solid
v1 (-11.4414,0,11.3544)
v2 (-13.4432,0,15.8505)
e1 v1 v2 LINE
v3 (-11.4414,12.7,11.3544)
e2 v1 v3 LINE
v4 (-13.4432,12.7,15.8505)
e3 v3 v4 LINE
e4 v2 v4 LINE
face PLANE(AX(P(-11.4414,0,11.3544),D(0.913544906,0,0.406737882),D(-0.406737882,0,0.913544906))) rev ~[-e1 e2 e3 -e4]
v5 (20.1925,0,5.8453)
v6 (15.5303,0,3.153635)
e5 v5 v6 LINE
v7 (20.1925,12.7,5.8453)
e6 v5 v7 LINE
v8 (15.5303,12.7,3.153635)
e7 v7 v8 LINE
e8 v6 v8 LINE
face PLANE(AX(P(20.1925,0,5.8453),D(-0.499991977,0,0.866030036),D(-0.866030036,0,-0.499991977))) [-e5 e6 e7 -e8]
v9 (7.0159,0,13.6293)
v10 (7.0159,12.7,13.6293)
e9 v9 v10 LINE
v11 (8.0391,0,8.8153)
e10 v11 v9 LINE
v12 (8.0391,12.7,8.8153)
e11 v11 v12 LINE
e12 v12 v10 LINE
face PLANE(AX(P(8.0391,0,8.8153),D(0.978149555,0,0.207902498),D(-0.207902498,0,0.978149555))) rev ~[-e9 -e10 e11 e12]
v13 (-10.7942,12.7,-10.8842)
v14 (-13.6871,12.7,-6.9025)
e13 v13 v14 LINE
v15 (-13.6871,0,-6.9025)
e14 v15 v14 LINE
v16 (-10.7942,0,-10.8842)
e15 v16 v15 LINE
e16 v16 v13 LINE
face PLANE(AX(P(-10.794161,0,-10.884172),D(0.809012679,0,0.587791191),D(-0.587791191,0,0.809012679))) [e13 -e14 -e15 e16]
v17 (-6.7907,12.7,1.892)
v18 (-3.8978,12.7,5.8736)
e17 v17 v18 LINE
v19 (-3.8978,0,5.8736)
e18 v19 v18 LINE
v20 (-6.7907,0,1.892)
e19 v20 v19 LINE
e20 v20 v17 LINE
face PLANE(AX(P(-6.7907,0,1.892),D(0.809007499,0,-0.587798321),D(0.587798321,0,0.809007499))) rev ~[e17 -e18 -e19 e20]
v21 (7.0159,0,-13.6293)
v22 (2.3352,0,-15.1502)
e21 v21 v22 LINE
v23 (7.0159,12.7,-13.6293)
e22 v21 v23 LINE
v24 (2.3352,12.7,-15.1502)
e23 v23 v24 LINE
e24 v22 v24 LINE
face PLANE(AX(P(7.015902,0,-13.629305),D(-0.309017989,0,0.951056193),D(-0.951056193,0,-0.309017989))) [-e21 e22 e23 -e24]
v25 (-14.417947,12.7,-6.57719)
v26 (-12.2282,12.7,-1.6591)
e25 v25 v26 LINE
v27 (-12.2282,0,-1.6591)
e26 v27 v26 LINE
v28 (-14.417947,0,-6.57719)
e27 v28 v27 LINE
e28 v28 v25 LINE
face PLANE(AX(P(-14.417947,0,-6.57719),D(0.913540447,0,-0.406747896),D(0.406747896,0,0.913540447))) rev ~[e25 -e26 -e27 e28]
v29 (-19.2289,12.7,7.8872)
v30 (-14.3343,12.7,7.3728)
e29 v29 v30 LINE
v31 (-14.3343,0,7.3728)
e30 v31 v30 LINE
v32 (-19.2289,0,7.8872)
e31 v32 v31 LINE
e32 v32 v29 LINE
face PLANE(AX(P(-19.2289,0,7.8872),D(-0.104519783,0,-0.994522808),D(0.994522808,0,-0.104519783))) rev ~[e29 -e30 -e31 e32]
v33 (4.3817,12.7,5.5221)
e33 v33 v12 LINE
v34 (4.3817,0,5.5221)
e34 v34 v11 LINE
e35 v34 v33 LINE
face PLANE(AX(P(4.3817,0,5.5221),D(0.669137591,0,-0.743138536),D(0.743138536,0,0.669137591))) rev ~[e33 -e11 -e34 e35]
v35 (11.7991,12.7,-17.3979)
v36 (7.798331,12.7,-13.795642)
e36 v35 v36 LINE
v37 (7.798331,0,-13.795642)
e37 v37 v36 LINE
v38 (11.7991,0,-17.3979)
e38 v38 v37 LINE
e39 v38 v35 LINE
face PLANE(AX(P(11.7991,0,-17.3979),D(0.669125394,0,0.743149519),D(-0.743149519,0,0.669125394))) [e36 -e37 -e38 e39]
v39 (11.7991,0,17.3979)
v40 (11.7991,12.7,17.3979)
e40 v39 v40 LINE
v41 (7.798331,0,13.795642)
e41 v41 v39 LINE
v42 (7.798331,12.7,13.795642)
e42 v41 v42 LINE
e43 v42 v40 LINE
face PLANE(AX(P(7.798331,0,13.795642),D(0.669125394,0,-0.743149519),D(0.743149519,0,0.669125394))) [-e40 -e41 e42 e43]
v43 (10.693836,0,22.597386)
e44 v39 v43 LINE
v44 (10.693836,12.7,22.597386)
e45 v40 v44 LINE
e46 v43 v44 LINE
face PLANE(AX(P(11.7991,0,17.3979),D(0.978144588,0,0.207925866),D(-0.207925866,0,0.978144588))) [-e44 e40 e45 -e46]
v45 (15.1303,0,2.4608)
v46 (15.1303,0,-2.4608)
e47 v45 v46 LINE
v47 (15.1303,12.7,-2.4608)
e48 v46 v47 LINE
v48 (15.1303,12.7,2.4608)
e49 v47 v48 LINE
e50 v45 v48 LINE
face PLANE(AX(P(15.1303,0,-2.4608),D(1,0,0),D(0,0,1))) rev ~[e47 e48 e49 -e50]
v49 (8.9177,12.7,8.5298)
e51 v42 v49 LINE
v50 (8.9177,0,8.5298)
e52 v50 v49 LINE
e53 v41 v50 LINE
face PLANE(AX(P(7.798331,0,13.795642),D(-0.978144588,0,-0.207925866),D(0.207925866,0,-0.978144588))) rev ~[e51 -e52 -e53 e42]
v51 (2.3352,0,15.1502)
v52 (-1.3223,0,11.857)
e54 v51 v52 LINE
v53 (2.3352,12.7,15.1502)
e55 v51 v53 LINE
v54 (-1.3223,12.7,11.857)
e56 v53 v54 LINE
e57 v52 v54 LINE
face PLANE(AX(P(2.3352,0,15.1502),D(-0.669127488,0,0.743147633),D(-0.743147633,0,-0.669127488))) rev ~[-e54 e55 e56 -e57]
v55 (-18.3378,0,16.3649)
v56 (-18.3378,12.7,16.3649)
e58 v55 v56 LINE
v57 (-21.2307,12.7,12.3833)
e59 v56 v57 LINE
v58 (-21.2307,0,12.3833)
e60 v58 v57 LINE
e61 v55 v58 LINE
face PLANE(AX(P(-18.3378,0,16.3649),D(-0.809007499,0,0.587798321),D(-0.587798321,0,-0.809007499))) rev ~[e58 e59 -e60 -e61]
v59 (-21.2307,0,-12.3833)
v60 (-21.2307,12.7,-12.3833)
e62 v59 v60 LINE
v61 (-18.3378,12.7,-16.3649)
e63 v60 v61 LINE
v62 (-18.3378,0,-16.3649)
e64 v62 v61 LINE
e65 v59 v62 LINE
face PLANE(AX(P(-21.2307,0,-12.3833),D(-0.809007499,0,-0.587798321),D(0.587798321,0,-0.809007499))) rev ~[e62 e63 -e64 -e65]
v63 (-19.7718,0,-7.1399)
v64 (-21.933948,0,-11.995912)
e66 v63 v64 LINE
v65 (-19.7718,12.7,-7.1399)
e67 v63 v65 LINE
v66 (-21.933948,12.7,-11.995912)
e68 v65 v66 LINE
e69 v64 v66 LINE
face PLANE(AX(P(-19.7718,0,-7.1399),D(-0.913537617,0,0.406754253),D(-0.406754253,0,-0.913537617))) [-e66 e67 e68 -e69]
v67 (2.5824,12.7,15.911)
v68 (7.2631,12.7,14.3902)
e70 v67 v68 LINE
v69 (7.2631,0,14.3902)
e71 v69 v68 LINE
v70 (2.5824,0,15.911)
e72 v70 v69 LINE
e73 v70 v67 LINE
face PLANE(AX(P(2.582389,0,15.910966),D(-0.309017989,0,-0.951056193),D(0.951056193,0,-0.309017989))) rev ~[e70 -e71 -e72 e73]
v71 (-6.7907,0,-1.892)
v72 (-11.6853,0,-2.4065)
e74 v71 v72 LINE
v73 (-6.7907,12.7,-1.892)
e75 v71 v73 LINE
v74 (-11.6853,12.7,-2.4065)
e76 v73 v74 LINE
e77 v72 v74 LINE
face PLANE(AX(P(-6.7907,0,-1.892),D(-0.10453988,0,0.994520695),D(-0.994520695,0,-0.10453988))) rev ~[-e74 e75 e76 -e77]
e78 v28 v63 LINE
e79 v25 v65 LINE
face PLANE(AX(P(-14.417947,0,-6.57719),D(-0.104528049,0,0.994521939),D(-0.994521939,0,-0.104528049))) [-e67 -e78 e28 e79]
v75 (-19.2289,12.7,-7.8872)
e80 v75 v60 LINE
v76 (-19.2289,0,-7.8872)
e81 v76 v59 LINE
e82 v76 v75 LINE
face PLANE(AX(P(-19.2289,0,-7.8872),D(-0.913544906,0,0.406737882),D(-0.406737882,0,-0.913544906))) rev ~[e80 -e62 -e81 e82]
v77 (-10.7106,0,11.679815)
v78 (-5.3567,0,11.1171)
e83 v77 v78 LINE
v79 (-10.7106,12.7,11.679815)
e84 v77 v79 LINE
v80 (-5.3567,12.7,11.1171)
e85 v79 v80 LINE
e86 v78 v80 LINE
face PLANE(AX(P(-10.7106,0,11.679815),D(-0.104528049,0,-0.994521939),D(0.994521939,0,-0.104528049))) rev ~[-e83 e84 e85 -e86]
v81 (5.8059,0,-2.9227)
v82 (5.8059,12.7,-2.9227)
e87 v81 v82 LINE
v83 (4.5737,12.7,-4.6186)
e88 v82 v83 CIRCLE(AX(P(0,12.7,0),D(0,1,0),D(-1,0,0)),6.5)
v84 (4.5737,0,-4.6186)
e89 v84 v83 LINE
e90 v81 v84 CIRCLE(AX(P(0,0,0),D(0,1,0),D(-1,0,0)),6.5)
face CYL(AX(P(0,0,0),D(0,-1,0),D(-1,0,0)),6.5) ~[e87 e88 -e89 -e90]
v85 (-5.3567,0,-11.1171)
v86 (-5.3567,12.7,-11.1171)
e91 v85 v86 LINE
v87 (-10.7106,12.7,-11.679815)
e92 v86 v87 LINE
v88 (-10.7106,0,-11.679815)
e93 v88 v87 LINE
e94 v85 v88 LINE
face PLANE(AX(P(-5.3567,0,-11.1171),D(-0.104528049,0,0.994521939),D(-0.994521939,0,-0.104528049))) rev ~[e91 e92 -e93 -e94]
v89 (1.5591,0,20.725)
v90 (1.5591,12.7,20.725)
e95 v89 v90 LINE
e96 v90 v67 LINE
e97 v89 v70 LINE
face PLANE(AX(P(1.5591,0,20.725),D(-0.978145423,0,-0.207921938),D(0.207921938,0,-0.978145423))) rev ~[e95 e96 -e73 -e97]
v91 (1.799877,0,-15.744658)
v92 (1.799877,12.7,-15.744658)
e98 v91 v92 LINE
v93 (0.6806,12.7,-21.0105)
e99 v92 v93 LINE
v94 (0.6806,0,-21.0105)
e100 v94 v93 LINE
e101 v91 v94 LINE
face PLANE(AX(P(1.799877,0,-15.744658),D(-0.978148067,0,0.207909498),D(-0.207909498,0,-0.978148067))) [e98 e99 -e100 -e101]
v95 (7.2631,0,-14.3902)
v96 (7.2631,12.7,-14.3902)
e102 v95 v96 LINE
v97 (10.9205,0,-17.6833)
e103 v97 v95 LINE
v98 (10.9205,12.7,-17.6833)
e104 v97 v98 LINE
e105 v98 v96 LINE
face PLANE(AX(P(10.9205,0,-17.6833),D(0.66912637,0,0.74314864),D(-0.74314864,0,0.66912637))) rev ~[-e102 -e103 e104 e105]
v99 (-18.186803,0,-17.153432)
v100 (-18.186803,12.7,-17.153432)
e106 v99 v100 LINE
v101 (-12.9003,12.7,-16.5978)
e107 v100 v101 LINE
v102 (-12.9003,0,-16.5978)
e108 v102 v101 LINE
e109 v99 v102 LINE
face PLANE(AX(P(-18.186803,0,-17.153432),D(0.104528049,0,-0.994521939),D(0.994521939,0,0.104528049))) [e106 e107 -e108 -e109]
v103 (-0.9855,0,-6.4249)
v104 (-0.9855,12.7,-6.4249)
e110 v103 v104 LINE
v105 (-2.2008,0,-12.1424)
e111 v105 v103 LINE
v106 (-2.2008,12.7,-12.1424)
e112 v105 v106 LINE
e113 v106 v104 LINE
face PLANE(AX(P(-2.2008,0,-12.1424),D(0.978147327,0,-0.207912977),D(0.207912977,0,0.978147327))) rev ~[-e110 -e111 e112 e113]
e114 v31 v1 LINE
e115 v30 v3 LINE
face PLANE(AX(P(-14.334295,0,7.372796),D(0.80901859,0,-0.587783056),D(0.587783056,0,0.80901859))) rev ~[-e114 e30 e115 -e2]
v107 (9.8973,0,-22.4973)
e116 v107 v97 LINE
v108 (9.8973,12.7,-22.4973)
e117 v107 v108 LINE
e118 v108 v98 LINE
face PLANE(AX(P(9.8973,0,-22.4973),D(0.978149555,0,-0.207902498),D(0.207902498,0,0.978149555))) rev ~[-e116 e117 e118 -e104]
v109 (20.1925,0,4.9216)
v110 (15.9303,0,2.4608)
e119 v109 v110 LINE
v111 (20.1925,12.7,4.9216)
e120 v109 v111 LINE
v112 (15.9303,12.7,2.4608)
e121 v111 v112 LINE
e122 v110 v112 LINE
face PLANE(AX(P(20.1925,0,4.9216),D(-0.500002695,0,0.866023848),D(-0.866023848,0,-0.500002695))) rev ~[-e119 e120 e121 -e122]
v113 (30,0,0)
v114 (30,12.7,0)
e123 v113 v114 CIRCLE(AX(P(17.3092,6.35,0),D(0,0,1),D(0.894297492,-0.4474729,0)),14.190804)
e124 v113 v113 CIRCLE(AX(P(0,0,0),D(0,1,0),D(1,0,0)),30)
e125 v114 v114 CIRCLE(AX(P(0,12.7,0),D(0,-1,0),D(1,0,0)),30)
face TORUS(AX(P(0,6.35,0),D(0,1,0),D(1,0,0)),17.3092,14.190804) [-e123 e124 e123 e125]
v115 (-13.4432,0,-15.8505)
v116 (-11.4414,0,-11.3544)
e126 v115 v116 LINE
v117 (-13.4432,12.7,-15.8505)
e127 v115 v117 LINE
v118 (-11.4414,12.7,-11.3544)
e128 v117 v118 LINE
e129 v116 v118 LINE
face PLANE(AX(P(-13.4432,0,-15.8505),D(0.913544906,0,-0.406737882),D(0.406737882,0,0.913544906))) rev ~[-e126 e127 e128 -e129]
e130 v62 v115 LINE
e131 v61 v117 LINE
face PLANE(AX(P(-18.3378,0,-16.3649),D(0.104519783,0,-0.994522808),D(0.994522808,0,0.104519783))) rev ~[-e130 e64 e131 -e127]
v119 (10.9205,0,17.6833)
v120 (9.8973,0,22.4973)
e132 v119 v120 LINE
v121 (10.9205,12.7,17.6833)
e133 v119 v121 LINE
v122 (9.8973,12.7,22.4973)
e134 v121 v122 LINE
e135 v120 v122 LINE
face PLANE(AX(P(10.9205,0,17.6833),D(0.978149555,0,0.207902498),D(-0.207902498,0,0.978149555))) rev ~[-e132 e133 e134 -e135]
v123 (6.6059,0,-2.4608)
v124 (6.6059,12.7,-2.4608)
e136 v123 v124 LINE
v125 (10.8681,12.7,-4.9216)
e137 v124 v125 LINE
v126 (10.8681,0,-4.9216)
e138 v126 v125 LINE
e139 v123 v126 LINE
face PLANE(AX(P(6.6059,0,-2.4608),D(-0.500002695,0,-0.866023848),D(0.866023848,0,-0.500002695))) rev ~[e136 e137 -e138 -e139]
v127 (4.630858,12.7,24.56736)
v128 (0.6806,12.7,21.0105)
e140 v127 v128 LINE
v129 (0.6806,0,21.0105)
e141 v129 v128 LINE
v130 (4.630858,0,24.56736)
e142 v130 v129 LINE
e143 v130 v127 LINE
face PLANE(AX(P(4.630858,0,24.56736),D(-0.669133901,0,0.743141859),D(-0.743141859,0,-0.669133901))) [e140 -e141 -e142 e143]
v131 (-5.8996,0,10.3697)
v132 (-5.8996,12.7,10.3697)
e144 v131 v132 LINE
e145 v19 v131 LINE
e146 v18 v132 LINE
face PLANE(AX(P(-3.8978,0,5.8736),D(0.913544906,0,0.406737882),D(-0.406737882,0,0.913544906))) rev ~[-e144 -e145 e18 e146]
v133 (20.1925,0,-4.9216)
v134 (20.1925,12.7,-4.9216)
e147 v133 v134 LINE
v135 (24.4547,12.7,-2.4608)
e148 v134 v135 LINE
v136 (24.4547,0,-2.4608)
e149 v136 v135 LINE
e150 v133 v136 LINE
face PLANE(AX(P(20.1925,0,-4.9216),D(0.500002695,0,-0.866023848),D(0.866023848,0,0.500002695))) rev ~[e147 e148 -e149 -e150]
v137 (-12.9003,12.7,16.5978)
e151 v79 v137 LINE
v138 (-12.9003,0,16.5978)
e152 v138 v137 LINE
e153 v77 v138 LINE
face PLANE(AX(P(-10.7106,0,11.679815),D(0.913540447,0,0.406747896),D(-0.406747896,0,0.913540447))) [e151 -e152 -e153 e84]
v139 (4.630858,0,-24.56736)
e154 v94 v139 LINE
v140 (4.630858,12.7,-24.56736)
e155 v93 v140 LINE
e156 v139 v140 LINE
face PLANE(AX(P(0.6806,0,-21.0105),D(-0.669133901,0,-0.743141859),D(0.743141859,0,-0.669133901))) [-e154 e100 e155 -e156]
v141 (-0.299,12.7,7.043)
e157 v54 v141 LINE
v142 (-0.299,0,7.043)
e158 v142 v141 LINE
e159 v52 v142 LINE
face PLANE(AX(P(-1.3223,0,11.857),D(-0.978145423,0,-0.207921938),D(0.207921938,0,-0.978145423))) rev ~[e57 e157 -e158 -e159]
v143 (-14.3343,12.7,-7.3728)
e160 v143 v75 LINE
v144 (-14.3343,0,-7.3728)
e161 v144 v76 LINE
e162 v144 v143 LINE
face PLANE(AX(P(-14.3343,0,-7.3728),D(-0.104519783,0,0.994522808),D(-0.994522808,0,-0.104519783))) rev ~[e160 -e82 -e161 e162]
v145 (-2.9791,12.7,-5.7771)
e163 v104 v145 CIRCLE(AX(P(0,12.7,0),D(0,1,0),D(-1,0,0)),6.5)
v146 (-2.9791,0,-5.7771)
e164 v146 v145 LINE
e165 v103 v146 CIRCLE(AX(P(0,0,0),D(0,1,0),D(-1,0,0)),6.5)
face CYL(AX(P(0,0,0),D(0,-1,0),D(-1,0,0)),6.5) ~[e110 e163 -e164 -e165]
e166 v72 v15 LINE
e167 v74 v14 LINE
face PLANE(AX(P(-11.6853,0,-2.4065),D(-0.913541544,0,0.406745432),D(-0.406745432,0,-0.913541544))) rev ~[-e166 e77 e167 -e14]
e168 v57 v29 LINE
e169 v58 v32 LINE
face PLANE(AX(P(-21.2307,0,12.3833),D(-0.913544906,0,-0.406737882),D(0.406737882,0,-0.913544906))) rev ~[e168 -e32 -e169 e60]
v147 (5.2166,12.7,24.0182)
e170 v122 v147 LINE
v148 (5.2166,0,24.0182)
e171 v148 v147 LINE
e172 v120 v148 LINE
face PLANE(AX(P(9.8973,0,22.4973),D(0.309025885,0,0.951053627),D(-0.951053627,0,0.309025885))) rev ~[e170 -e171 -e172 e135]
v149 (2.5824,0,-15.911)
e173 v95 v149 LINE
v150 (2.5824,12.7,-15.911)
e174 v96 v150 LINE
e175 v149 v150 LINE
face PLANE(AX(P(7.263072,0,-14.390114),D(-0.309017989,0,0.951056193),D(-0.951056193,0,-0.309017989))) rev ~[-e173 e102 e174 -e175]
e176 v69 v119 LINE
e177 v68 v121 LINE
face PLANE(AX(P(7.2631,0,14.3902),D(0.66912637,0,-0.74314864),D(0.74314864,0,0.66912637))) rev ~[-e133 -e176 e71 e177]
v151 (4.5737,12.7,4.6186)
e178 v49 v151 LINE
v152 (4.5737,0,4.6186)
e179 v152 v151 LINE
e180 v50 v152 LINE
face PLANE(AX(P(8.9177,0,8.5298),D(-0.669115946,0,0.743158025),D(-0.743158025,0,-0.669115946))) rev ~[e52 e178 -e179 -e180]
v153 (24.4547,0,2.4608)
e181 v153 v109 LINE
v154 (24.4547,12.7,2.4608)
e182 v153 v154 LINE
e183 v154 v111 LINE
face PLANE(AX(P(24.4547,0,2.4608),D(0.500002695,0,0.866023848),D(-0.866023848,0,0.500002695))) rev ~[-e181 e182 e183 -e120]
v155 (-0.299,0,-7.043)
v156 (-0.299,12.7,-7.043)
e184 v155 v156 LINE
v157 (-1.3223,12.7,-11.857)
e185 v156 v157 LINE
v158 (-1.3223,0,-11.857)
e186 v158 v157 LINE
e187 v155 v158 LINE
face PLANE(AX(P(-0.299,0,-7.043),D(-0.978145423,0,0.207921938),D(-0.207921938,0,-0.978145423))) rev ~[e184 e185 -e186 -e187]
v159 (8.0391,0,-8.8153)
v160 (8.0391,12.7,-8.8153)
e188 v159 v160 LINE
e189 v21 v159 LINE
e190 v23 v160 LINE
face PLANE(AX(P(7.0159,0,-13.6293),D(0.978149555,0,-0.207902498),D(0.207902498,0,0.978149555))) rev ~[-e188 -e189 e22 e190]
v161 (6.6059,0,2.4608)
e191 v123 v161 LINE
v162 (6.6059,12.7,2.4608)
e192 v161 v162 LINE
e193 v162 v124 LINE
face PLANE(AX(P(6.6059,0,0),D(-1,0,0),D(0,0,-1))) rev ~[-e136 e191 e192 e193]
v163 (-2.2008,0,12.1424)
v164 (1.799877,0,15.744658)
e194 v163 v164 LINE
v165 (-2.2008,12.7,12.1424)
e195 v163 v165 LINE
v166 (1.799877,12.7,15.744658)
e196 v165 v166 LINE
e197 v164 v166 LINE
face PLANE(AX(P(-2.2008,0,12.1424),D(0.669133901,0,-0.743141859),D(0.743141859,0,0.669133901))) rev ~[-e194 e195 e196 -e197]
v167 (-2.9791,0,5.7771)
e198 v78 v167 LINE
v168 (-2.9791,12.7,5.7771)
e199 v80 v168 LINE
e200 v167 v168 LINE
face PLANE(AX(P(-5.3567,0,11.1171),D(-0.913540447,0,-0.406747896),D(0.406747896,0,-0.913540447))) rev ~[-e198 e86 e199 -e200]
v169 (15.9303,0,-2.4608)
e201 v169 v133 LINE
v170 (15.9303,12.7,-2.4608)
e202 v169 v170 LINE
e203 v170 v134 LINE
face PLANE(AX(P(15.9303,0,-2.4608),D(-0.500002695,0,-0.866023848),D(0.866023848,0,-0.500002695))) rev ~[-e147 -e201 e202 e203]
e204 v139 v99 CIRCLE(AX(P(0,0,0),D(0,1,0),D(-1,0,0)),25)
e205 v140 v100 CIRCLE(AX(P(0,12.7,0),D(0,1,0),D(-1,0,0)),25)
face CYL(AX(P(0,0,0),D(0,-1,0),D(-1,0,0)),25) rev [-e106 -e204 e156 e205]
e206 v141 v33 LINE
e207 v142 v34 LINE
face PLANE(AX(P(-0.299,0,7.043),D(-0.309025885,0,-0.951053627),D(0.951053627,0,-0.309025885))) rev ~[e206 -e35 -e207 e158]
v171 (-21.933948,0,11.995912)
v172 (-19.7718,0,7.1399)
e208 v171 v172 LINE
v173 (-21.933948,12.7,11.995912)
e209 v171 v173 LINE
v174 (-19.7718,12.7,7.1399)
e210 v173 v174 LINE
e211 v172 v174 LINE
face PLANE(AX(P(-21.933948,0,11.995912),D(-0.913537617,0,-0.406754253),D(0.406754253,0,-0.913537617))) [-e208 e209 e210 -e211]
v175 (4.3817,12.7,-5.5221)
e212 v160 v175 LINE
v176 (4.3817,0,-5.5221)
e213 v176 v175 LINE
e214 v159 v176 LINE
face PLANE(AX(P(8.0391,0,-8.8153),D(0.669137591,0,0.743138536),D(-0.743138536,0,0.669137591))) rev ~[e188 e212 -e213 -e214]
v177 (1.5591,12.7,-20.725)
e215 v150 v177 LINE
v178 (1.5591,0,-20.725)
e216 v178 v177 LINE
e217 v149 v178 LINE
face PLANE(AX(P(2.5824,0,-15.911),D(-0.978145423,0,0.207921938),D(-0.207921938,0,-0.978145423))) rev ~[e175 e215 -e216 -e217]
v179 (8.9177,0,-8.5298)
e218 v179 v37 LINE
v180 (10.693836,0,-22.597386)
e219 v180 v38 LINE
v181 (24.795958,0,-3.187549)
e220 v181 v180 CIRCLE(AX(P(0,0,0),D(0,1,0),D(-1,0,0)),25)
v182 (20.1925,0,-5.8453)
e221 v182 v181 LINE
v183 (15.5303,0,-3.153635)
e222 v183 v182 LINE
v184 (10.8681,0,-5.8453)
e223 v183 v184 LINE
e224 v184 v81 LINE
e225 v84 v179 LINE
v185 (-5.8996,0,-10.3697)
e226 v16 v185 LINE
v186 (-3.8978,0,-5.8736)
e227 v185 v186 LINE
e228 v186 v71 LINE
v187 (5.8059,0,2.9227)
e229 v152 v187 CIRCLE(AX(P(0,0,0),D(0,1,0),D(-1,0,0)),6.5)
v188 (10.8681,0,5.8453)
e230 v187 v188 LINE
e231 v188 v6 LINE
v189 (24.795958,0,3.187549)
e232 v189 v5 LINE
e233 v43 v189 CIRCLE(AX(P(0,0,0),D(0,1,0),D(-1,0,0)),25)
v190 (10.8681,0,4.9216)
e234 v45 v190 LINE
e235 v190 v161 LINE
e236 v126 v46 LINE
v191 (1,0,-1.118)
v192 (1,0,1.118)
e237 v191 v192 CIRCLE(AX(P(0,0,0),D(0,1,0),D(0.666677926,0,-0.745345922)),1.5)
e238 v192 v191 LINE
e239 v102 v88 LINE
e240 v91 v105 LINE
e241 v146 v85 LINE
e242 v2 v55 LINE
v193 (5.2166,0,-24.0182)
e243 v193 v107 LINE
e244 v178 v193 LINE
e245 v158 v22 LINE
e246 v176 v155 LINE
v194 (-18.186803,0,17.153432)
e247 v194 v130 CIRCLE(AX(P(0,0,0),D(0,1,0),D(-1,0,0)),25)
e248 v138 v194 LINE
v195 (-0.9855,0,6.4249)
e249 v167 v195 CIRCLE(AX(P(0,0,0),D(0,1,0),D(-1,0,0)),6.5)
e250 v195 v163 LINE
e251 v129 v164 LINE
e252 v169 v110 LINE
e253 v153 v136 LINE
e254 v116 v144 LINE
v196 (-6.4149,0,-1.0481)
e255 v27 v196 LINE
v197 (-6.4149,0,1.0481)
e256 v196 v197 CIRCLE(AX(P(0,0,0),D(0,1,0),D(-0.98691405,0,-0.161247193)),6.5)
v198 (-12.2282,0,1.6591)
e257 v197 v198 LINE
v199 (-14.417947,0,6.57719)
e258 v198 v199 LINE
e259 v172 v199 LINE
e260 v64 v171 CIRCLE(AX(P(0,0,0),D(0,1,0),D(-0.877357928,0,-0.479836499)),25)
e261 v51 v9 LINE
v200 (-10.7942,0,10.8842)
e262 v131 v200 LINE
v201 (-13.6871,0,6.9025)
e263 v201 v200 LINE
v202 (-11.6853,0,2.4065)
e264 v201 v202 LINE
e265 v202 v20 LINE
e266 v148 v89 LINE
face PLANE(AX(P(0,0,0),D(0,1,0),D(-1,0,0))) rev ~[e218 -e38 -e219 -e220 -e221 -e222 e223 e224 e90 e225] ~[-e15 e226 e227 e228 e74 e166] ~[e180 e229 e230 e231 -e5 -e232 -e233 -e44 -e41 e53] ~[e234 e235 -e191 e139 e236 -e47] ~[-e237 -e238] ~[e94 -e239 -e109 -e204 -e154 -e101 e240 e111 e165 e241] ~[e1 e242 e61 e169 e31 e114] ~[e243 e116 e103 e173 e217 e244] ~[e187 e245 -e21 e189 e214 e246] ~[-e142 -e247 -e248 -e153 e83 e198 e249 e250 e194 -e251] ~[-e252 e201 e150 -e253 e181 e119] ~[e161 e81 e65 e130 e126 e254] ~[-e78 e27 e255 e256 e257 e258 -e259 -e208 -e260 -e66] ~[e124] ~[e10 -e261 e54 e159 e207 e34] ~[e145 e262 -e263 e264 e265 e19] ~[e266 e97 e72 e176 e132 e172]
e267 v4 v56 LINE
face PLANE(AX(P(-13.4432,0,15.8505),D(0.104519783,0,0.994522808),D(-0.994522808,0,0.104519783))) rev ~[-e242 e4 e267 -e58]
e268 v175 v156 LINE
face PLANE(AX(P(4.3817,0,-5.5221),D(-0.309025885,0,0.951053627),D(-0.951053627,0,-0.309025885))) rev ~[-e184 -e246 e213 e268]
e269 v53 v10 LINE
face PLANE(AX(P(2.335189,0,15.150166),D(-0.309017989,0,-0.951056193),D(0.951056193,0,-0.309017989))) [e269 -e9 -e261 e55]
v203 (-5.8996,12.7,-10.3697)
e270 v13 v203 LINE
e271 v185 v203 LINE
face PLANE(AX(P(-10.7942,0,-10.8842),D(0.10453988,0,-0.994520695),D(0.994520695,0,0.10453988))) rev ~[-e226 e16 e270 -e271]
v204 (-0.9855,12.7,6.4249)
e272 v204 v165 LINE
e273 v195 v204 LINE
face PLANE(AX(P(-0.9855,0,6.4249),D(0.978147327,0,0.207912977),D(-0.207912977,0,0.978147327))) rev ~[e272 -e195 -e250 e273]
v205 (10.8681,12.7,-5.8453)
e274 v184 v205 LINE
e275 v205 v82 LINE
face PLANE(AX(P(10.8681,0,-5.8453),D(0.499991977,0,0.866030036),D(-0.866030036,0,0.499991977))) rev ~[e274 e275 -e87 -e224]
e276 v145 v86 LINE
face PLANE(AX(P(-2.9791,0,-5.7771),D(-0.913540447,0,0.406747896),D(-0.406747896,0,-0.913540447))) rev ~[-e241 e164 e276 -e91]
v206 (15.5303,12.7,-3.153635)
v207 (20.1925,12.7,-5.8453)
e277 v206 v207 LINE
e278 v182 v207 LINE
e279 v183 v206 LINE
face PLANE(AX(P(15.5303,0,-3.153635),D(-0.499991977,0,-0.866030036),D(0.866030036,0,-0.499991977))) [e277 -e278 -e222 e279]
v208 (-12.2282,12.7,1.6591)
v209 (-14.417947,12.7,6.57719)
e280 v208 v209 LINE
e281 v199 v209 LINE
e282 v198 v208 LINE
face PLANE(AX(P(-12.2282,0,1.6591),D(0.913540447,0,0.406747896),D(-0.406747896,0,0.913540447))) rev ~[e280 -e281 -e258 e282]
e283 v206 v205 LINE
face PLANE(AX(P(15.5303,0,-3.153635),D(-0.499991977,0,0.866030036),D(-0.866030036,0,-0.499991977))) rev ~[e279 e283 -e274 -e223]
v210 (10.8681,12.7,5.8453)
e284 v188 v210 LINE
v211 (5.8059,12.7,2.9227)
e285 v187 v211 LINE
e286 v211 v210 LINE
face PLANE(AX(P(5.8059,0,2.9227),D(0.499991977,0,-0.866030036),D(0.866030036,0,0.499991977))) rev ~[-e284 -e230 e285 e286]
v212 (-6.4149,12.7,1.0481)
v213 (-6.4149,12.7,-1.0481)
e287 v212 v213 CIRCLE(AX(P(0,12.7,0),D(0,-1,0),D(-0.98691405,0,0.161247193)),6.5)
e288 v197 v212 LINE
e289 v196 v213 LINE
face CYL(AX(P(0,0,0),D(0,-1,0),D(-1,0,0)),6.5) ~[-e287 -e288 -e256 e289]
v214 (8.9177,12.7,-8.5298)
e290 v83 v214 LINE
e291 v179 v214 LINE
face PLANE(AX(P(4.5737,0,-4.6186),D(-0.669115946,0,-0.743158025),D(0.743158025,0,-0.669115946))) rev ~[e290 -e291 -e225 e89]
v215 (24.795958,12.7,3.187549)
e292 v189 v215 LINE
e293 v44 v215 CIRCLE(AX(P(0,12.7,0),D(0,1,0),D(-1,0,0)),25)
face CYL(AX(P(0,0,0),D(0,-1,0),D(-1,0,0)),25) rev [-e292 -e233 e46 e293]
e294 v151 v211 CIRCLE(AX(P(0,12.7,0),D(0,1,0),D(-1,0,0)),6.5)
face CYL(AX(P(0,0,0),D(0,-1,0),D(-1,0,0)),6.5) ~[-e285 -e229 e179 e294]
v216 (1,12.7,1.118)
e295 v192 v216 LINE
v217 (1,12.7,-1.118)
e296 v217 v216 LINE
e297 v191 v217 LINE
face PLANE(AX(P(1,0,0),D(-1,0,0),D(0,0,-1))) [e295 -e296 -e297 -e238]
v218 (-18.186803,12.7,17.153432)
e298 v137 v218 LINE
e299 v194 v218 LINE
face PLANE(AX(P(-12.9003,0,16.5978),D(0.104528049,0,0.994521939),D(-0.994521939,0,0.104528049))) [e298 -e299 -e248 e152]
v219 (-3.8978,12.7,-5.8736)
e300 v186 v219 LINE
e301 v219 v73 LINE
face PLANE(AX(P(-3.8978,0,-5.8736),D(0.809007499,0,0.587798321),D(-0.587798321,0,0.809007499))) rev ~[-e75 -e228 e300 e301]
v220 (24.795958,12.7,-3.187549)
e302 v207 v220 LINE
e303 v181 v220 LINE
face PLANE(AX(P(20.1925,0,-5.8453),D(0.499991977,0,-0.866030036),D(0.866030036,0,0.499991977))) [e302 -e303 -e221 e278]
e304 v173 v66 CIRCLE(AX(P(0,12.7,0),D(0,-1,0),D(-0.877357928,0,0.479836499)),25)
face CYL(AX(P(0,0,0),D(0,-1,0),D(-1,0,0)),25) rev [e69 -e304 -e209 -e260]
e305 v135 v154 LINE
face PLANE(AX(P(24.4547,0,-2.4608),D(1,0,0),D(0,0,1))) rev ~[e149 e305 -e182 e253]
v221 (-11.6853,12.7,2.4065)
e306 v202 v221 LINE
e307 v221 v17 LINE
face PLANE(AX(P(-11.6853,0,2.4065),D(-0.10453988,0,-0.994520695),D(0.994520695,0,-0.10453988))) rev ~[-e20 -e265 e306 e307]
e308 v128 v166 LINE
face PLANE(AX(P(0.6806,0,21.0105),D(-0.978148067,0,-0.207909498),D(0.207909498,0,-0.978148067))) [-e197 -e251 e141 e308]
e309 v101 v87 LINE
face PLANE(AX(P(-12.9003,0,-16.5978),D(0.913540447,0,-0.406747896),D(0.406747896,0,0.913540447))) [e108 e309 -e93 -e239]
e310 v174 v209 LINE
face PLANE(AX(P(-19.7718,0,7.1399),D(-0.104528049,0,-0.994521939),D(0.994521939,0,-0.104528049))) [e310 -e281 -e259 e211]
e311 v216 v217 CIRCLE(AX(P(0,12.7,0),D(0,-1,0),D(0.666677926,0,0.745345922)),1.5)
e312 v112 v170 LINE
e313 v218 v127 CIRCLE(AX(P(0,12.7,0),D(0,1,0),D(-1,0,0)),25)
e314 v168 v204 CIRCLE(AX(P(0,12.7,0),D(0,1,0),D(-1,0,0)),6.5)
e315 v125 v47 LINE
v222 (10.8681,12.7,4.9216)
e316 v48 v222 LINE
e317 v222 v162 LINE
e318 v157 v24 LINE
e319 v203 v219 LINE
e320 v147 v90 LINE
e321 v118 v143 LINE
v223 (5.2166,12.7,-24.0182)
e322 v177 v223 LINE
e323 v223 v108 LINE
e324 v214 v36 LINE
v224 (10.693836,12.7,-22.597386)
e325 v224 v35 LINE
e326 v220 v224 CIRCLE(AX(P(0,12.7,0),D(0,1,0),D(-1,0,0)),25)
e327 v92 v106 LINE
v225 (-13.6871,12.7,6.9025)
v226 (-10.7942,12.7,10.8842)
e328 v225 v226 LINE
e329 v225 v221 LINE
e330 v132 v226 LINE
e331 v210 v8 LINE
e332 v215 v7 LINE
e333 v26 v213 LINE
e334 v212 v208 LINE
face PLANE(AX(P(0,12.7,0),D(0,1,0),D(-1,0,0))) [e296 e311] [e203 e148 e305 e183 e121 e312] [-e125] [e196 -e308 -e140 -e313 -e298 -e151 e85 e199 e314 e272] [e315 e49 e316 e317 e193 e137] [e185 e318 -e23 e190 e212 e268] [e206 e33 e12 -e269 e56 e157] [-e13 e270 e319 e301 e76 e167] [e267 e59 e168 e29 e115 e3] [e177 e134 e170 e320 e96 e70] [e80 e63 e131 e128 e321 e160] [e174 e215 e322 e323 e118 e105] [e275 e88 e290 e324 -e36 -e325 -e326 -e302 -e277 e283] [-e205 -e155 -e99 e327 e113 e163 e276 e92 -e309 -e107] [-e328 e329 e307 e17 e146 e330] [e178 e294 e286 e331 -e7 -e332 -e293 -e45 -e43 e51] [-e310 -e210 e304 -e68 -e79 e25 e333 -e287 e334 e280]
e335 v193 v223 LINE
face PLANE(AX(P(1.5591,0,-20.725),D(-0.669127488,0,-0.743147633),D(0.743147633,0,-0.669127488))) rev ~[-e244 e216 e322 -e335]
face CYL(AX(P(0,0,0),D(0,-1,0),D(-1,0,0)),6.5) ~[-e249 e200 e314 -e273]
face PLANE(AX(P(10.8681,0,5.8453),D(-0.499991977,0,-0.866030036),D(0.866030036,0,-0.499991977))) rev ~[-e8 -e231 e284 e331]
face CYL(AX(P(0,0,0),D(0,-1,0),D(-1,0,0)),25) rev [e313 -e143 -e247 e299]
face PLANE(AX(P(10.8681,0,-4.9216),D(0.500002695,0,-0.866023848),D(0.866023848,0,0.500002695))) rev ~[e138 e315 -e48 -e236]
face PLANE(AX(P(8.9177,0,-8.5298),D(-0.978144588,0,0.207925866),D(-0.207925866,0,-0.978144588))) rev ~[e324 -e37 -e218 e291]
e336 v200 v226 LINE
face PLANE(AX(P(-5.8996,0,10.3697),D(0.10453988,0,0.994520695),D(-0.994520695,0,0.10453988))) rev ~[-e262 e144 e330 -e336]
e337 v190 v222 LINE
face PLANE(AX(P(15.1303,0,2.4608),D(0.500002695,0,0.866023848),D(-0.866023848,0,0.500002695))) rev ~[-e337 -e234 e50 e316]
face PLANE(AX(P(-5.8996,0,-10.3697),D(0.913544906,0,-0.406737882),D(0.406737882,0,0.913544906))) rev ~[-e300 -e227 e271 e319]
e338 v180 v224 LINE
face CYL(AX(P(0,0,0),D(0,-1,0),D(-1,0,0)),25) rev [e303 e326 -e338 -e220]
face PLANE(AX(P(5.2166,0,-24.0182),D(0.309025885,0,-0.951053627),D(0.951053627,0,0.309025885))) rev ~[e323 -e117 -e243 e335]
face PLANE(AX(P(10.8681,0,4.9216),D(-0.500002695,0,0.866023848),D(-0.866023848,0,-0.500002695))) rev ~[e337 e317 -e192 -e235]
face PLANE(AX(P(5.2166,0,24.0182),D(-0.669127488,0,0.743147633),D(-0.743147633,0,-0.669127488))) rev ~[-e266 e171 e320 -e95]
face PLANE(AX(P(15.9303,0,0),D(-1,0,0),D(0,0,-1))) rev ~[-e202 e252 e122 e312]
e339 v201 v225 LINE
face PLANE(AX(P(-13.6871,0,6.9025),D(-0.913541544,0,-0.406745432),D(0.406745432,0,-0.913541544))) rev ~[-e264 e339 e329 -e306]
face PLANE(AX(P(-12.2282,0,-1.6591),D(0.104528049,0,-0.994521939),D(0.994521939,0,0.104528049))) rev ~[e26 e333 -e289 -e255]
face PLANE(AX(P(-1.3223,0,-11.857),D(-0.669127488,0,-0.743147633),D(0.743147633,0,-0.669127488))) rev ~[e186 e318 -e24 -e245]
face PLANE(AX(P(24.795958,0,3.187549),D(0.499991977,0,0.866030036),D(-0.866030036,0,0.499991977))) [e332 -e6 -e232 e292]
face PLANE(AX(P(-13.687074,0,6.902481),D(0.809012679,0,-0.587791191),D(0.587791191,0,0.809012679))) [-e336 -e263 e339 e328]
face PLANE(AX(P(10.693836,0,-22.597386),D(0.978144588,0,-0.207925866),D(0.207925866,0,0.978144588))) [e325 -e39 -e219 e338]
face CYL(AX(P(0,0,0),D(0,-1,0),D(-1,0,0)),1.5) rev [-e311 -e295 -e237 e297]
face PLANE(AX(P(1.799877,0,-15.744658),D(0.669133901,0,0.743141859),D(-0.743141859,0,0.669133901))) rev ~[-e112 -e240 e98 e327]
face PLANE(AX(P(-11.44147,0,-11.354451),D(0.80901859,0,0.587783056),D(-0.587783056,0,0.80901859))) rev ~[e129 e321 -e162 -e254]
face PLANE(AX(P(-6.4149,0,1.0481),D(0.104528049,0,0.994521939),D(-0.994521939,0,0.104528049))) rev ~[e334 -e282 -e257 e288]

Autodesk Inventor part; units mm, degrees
ref_plane "YZ Plane" through (0, 0, 0) normal (1, 0, 0) x (0, 1, 0)
ref_plane "XZ Plane" through (0, 0, 0) normal (0, 1, 0) x (-1, 0, 0)
ref_plane "XY Plane" through (0, 0, 0) normal (0, 0, 1) x (1, 0, 0)
sketch "Sketch1" plane through (0, 0, 0) normal (0, 1, 0) x (-1, 0, 0)
  circle A0 centre (0, 0) radius 1.5
  line L0 (-1, 1.118) -> (-1, -1.118)
  circle A1 centre (0, 0) radius 30
  circle A2 centre (0, 0) radius 6.5
  circle A3 centre (0, 0) radius 25
  line L1 (42, 0) -> (-42, 0) projected
  line L2 (-10.8681, -4.9216) -> (-15.1303, -2.4608)
  line L3 (-15.1303, -2.4608) -> (-15.1303, 2.4608)
  line L4 (-15.1303, 2.4608) -> (-10.8681, 4.9216)
  line L5 (-10.8681, 4.9216) -> (-6.6059, 2.4608)
  line L6 (-6.6059, 2.4608) -> (-6.6059, -2.4608)
  line L7 (-6.6059, -2.4608) -> (-10.8681, -4.9216)
  line L8 (-5.8059, -2.9227) -> (-5.8059, 2.9227)
  line L9 (-5.8059, 2.9227) -> (-10.8681, 5.8453)
  line L10 (-10.8681, 5.8453) -> (-15.9303, 2.9227)
  line L11 (-15.9303, 2.9227) -> (-15.9303, -2.9227)
  line L12 (-15.9303, -2.9227) -> (-10.8681, -5.8453)
  line L13 (-10.8681, -5.8453) -> (-5.8059, -2.9227)
  line L14 (-20.1925, 4.9216) -> (-15.9303, 2.4608)
  line L15 (-15.9303, 2.4608) -> (-15.9303, -2.4608)
  line L16 (-15.9303, -2.4608) -> (-20.1925, -4.9216)
  line L17 (-20.1925, -4.9216) -> (-24.4547, -2.4608)
  line L18 (-24.4547, -2.4608) -> (-24.4547, 2.4608)
  line L19 (-24.4547, 2.4608) -> (-20.1925, 4.9216)
  line L20 (-20.1925, 5.8453) -> (-15.1303, 2.9227)
  line L21 (-15.1303, 2.9227) -> (-15.1303, -2.9227)
  line L22 (-15.1303, -2.9227) -> (-20.1925, -5.8453)
  line L23 (-20.1925, -5.8453) -> (-25.2547, -2.9227)
  line L24 (-25.2547, -2.9227) -> (-25.2547, 2.9227)
  line L25 (-25.2547, 2.9227) -> (-20.1925, 5.8453)
  line L26 (-15.5303, 2.6917) -> (-10.8681, 5.3834)
  line L27 (-10.8681, 5.3834) -> (-6.2059, 2.6917)
  line L28 (-6.2059, 2.6917) -> (-6.2059, -2.6917)
  line L29 (-6.2059, -2.6917) -> (-10.8681, -5.3834)
  line L30 (-10.8681, -5.3834) -> (-15.5303, -2.6917)
  line L31 (-15.5303, -2.6917) -> (-15.5303, 2.6917)
  line L32 (-15.5303, -2.6917) -> (-15.5303, 2.6917)
  line L33 (-15.5303, 2.6917) -> (-20.1925, 5.3834)
  line L34 (-20.1925, 5.3834) -> (-24.8547, 2.6917)
  line L35 (-24.8547, 2.6917) -> (-24.8547, -2.6917)
  line L36 (-24.8547, -2.6917) -> (-20.1925, -5.3834)
  line L37 (-20.1925, -5.3834) -> (-15.5303, -2.6917)
  line L38 (2.2008, -12.1424) -> (0.9855, -6.4249)
  line L39 (0.9855, -6.4249) -> (-4.5737, -4.6186)
  line L40 (-4.3817, -5.5221) -> (0.299, -7.043)
  line L41 (0.299, -7.043) -> (1.3223, -11.857)
  line L42 (-2.1431, -16.0537) -> (2.2008, -12.1424)
  line L43 (-4.5737, -4.6186) -> (-8.9177, -8.5298)
  line L44 (-8.0391, -8.8153) -> (-4.3817, -5.5221)
  line L45 (-7.0159, -13.6293) -> (-8.0391, -8.8153)
  line L46 (-8.9177, -8.5298) -> (-7.7023, -14.2474)
  line L47 (-7.7023, -14.2474) -> (-2.1431, -16.0537)
  line L48 (-7.4551, -13.4866) -> (-1.8959, -15.2929)
  line L49 (1.3223, -11.857) -> (-2.3352, -15.1502)
  line L50 (-1.8959, -15.2929) -> (-0.6806, -21.0105)
  line L51 (-2.5824, -15.911) -> (-1.5591, -20.725)
  line L52 (-1.5591, -20.725) -> (-5.2166, -24.0182)
  line L53 (-0.6806, -21.0105) -> (-5.0245, -24.9218)
  line L54 (-5.2166, -24.0182) -> (-9.8973, -22.4973)
  line L55 (-5.0245, -24.9218) -> (-10.5837, -23.1155)
  line L56 (-10.5837, -23.1155) -> (-11.7991, -17.3979)
  line L57 (-9.8973, -22.4973) -> (-10.9205, -17.6833)
  line L58 (-10.9205, -17.6833) -> (-7.2631, -14.3902)
  line L59 (-11.7991, -17.3979) -> (-7.4551, -13.4866)
  line L60 (12.2282, -1.6591) -> (6.4149, -1.0481)
  line L61 (6.4149, -1.0481) -> (2.9791, -5.7771)
  line L62 (3.8978, -5.8736) -> (6.7907, -1.892)
  line L63 (6.7907, -1.892) -> (11.6853, -2.4065)
  line L64 (14.6058, -6.9991) -> (12.2282, -1.6591)
  line L65 (2.9791, -5.7771) -> (5.3567, -11.1171)
  line L66 (5.8996, -10.3697) -> (3.8978, -5.8736)
  line L67 (10.7942, -10.8842) -> (5.8996, -10.3697)
  line L68 (5.3567, -11.1171) -> (11.17, -11.7281)
  line L69 (11.17, -11.7281) -> (14.6058, -6.9991)
  line L70 (10.5227, -11.2578) -> (13.9585, -6.5289)
  line L71 (11.6853, -2.4065) -> (13.6871, -6.9025)
  line L72 (13.9585, -6.5289) -> (19.7718, -7.1399)
  line L73 (14.3343, -7.3728) -> (19.2289, -7.8872)
  line L74 (19.2289, -7.8872) -> (21.2307, -12.3833)
  line L75 (19.7718, -7.1399) -> (22.1494, -12.4798)
  line L76 (21.2307, -12.3833) -> (18.3378, -16.3649)
  line L77 (22.1494, -12.4798) -> (18.7136, -17.2088)
  line L78 (18.7136, -17.2088) -> (12.9003, -16.5978)
  line L79 (18.3378, -16.3649) -> (13.4432, -15.8505)
  line L80 (13.4432, -15.8505) -> (11.4414, -11.3544)
  line L81 (12.9003, -16.5978) -> (10.5227, -11.2578)
  line L82 (5.3567, 11.1171) -> (2.9791, 5.7771)
  line L83 (2.9791, 5.7771) -> (6.4149, 1.0481)
  line L84 (6.7907, 1.892) -> (3.8978, 5.8736)
  line L85 (3.8978, 5.8736) -> (5.8996, 10.3697)
  line L86 (11.17, 11.7281) -> (5.3567, 11.1171)
  line L87 (6.4149, 1.0481) -> (12.2282, 1.6591)
  line L88 (11.6853, 2.4065) -> (6.7907, 1.892)
  line L89 (13.6871, 6.9025) -> (11.6853, 2.4065)
  line L90 (12.2282, 1.6591) -> (14.6058, 6.9991)
  line L91 (14.6058, 6.9991) -> (11.17, 11.7281)
  line L92 (13.9585, 6.5289) -> (10.5227, 11.2578)
  line L93 (5.8996, 10.3697) -> (10.7942, 10.8842)
  line L94 (10.5227, 11.2578) -> (12.9003, 16.5978)
  line L95 (11.4414, 11.3544) -> (13.4432, 15.8505)
  line L96 (13.4432, 15.8505) -> (18.3378, 16.3649)
  line L97 (12.9003, 16.5978) -> (18.7136, 17.2088)
  line L98 (18.3378, 16.3649) -> (21.2307, 12.3833)
  line L99 (18.7136, 17.2088) -> (22.1494, 12.4798)
  line L100 (22.1494, 12.4798) -> (19.7718, 7.1399)
  line L101 (21.2307, 12.3833) -> (19.2289, 7.8872)
  line L102 (19.2289, 7.8872) -> (14.3343, 7.3728)
  line L103 (19.7718, 7.1399) -> (13.9585, 6.5289)
  line L104 (-8.9177, 8.5298) -> (-4.5737, 4.6186)
  line L105 (-4.5737, 4.6186) -> (0.9855, 6.4249)
  line L106 (0.299, 7.043) -> (-4.3817, 5.5221)
  line L107 (-4.3817, 5.5221) -> (-8.0391, 8.8153)
  line L108 (-7.7023, 14.2474) -> (-8.9177, 8.5298)
  line L109 (0.9855, 6.4249) -> (2.2008, 12.1424)
  line L110 (1.3223, 11.857) -> (0.299, 7.043)
  line L111 (-2.3352, 15.1502) -> (1.3223, 11.857)
  line L112 (2.2008, 12.1424) -> (-2.1431, 16.0537)
  line L113 (-2.1431, 16.0537) -> (-7.7023, 14.2474)
  line L114 (-1.8959, 15.2929) -> (-7.4551, 13.4866)
  line L115 (-8.0391, 8.8153) -> (-7.0159, 13.6293)
  line L116 (-7.4551, 13.4866) -> (-11.7991, 17.3979)
  line L117 (-7.2631, 14.3902) -> (-10.9205, 17.6833)
  line L118 (-10.9205, 17.6833) -> (-9.8973, 22.4973)
  line L119 (-11.7991, 17.3979) -> (-10.5837, 23.1155)
  line L120 (-9.8973, 22.4973) -> (-5.2166, 24.0182)
  line L121 (-10.5837, 23.1155) -> (-5.0245, 24.9218)
  line L122 (-5.0245, 24.9218) -> (-0.6806, 21.0105)
  line L123 (-5.2166, 24.0182) -> (-1.5591, 20.725)
  line L124 (-1.5591, 20.725) -> (-2.5824, 15.911)
  line L125 (-0.6806, 21.0105) -> (-1.8959, 15.2929)
  point P0 (25, 0)
  point P1 (30, 0)
  point P2 (-30, 0)
  point P3 (-10.8681, 0)
  point P4 (-20.1925, 0)
  point P5 (-6.5, 0)
  point P6 (6.5, 0)
  point P7 (-25, 0)
  point P8 (-24.796, -3.1875)
  point P9 (-15.5303, -3.1536)
  point P10 (-5.8059, 2.9227)
  point P11 (-15.5303, 3.1536)
  point P12 (-24.796, 3.1875)
  point P13 (-15.9303, 2.4608)
  point P14 (-15.9303, -2.4608)
  point P15 (-4.5737, -4.6186)
  point P16 (-7.7984, -13.7956)
  point P17 (-10.6939, -22.5974)
  point P18 (6.4149, 1.0481)
  point P19 (14.4179, 6.5771)
  point P20 (21.9339, 11.996)
  point P21 (18.1868, 17.1534)
  point P22 (10.7106, 11.6798)
  point P23 (2.9791, 5.7771)
  point P24 (0.9855, 6.4249)
  point P25 (-1.7999, 15.7447)
  point P26 (-4.6309, 24.5674)
  point P27 (-10.6939, 22.5974)
  point P28 (-7.7984, 13.7956)
  point P29 (21.9339, -11.996)
  point P30 (14.4179, -6.5771)
  point P31 (6.4149, -1.0481)
  point P32 (-1.325, -6.3635)
  point P33 (-2.3352, -15.1502)
  point P34 (-7.0159, -13.6293)
  point P35 (-2.6684, -5.927)
  point P36 (4.8123, -4.3694)
  point P37 (5.6426, -3.2266)
  point P38 (13.6871, -6.9025)
  point P39 (10.7942, -10.8842)
  point P40 (14.3343, -7.3728)
  point P41 (11.4414, -11.3544)
  point P42 (0.9855, -6.4249)
  point P43 (2.9791, -5.7771)
  point P44 (10.7106, -11.6798)
  point P45 (18.1868, -17.1534)
  point P46 (-4.6309, -24.5674)
  point P47 (-1.7999, -15.7447)
  point P48 (-6.4615, -0.7063)
  point P49 (-6.4615, 0.7063)
  point P50 (5.6426, 3.2266)
  point P51 (4.8123, 4.3694)
  point P52 (10.7942, 10.8842)
  point P53 (13.6871, 6.9025)
  point P54 (11.4414, 11.3544)
  point P55 (14.3343, 7.3728)
  point P56 (-1.325, 6.3635)
  point P57 (-2.6684, 5.927)
  point P58 (-7.0159, 13.6293)
  point P59 (-2.3352, 15.1502)
  point P60 (-7.2631, 14.3902)
  point P61 (-2.5824, 15.911)
  point P62 (-2.5824, -15.911)
  point P63 (-7.2631, -14.3902)
  dimension "d0" = 3
  dimension "d1" = 1
  dimension "d2" = 60
  dimension "d3" = 5
  dimension "d4" = 5
  dimension "d25" = 0.8
  dimension "d26" = 0.8
  dimension "d27" = 0.4
  dimension "d28" = 0.4
  dimension "d37" = 360
extrude "Extrusion1" add sketch "Sketch1" along normal blind 12.7 contours L1 A2 L61 L39 L8 A0 | A0 L1 L8 A2 L105 L83 | L0 L1 A0 | A0 L1 L0 | L83 A2 | A2 L82 L86 L94 L92 L93 L85 L84 L88 L89 L103 L90 L87 | L60 L64 L72 L70 L71 L63 L62 L66 L67 L81 L68 L65 A2 | A2 L61 | L1 A1 L24 L23 A3 L56 L55 L53 L78 L77 L75 | A3 L100 L99 L97 L122 L121 L119 L25 L24 L1 A1 | L8 A2 L28 L1 | L1 L28 A2 L8 | L100 L103 L90 L91 L102 L101 L98 L96 L95 L86 L94 L97 A3 | A3 L97 L99 L100 | L75 L77 L78 A3 | A3 L78 L81 L68 L69 L80 L79 L76 L74 L73 L64 L72 L75 | L28 A2 L1 | L1 A2 L28 | L13 L12 L22 L30 L29 L28 A2 | A2 L28 L27 L26 L20 L10 L9 | L105 A2 | A2 L104 L108 L116 L114 L115 L107 L106 L110 L111 L125 L112 L109 | L103 L92 L94 L86 L91 L90 | L38 L42 L50 L48 L49 L41 L40 L44 L45 L59 L46 L43 A2 | A2 L39 | L64 L69 L68 L81 L70 L72 | L1 L6 L5 L4 L21 L26 L27 L28 A2 | A2 L28 L29 L30 L21 L2 L7 L6 L1 | L122 L125 L112 L113 L124 L123 L120 L118 L117 L108 L116 L119 A3 | A3 L119 L121 L122 | L53 L55 L56 A3 | A3 L56 L59 L46 L47 L58 L57 L54 L52 L51 L42 L50 L53 | L24 L25 A3 L1 | L1 A3 L23 L24 | L22 L23 A3 L36 L37 L12 | L12 L37 L30 L22 | L20 L26 L33 L10 | L10 L33 L34 A3 L25 L20 | L125 L114 L116 L108 L113 L112 | L42 L47 L46 L59 L48 L50 | L1 L35 A3 | A3 L35 L1 | L3 L21 L30 L31 L1 | L1 L31 L26 L21 L3 | L37 L36 L35 L1 L18 L17 L16 L11 | L11 L1 L31 L37 | L33 L31 L1 L11 | L11 L14 L19 L18 L1 L35 L34 L33 picked at (-1.0704, 0.6676) picked at (-1.0705, -0.6676)
sketch "Sketch2" plane through (0, 0, 0) normal (0, 0, 1) x (1, 0, 0)
  line L0 (30, 12.7) -> (-30, 12.7) projected
  line L1 (30, 0) -> (-30, 0) projected
  line L2 (30, 0) -> (-30, 0) projected
  line L3 (0, -2.54) -> (0, 15.24) projected
  line L4 (24.796, 0) -> (24.796, 12.7) projected
  line L5 (30, 0) -> (30, 12.7) projected
  arc A0 (30, 0) -> (30, 12.7) centre (17.3092, 6.35) ccw
  point P0 (0, 0)
  point P1 (-27.5, 12.7)
  point P2 (31.5, 6.35)
  dimension "d39" = 1.5
revolve "Revolution1" add sketch "Sketch2" angle 360 about axis through (0, -10, 0) along (0, 1, 0) contours A0 L5
properties part number "WheelV2" material "H TPU"
